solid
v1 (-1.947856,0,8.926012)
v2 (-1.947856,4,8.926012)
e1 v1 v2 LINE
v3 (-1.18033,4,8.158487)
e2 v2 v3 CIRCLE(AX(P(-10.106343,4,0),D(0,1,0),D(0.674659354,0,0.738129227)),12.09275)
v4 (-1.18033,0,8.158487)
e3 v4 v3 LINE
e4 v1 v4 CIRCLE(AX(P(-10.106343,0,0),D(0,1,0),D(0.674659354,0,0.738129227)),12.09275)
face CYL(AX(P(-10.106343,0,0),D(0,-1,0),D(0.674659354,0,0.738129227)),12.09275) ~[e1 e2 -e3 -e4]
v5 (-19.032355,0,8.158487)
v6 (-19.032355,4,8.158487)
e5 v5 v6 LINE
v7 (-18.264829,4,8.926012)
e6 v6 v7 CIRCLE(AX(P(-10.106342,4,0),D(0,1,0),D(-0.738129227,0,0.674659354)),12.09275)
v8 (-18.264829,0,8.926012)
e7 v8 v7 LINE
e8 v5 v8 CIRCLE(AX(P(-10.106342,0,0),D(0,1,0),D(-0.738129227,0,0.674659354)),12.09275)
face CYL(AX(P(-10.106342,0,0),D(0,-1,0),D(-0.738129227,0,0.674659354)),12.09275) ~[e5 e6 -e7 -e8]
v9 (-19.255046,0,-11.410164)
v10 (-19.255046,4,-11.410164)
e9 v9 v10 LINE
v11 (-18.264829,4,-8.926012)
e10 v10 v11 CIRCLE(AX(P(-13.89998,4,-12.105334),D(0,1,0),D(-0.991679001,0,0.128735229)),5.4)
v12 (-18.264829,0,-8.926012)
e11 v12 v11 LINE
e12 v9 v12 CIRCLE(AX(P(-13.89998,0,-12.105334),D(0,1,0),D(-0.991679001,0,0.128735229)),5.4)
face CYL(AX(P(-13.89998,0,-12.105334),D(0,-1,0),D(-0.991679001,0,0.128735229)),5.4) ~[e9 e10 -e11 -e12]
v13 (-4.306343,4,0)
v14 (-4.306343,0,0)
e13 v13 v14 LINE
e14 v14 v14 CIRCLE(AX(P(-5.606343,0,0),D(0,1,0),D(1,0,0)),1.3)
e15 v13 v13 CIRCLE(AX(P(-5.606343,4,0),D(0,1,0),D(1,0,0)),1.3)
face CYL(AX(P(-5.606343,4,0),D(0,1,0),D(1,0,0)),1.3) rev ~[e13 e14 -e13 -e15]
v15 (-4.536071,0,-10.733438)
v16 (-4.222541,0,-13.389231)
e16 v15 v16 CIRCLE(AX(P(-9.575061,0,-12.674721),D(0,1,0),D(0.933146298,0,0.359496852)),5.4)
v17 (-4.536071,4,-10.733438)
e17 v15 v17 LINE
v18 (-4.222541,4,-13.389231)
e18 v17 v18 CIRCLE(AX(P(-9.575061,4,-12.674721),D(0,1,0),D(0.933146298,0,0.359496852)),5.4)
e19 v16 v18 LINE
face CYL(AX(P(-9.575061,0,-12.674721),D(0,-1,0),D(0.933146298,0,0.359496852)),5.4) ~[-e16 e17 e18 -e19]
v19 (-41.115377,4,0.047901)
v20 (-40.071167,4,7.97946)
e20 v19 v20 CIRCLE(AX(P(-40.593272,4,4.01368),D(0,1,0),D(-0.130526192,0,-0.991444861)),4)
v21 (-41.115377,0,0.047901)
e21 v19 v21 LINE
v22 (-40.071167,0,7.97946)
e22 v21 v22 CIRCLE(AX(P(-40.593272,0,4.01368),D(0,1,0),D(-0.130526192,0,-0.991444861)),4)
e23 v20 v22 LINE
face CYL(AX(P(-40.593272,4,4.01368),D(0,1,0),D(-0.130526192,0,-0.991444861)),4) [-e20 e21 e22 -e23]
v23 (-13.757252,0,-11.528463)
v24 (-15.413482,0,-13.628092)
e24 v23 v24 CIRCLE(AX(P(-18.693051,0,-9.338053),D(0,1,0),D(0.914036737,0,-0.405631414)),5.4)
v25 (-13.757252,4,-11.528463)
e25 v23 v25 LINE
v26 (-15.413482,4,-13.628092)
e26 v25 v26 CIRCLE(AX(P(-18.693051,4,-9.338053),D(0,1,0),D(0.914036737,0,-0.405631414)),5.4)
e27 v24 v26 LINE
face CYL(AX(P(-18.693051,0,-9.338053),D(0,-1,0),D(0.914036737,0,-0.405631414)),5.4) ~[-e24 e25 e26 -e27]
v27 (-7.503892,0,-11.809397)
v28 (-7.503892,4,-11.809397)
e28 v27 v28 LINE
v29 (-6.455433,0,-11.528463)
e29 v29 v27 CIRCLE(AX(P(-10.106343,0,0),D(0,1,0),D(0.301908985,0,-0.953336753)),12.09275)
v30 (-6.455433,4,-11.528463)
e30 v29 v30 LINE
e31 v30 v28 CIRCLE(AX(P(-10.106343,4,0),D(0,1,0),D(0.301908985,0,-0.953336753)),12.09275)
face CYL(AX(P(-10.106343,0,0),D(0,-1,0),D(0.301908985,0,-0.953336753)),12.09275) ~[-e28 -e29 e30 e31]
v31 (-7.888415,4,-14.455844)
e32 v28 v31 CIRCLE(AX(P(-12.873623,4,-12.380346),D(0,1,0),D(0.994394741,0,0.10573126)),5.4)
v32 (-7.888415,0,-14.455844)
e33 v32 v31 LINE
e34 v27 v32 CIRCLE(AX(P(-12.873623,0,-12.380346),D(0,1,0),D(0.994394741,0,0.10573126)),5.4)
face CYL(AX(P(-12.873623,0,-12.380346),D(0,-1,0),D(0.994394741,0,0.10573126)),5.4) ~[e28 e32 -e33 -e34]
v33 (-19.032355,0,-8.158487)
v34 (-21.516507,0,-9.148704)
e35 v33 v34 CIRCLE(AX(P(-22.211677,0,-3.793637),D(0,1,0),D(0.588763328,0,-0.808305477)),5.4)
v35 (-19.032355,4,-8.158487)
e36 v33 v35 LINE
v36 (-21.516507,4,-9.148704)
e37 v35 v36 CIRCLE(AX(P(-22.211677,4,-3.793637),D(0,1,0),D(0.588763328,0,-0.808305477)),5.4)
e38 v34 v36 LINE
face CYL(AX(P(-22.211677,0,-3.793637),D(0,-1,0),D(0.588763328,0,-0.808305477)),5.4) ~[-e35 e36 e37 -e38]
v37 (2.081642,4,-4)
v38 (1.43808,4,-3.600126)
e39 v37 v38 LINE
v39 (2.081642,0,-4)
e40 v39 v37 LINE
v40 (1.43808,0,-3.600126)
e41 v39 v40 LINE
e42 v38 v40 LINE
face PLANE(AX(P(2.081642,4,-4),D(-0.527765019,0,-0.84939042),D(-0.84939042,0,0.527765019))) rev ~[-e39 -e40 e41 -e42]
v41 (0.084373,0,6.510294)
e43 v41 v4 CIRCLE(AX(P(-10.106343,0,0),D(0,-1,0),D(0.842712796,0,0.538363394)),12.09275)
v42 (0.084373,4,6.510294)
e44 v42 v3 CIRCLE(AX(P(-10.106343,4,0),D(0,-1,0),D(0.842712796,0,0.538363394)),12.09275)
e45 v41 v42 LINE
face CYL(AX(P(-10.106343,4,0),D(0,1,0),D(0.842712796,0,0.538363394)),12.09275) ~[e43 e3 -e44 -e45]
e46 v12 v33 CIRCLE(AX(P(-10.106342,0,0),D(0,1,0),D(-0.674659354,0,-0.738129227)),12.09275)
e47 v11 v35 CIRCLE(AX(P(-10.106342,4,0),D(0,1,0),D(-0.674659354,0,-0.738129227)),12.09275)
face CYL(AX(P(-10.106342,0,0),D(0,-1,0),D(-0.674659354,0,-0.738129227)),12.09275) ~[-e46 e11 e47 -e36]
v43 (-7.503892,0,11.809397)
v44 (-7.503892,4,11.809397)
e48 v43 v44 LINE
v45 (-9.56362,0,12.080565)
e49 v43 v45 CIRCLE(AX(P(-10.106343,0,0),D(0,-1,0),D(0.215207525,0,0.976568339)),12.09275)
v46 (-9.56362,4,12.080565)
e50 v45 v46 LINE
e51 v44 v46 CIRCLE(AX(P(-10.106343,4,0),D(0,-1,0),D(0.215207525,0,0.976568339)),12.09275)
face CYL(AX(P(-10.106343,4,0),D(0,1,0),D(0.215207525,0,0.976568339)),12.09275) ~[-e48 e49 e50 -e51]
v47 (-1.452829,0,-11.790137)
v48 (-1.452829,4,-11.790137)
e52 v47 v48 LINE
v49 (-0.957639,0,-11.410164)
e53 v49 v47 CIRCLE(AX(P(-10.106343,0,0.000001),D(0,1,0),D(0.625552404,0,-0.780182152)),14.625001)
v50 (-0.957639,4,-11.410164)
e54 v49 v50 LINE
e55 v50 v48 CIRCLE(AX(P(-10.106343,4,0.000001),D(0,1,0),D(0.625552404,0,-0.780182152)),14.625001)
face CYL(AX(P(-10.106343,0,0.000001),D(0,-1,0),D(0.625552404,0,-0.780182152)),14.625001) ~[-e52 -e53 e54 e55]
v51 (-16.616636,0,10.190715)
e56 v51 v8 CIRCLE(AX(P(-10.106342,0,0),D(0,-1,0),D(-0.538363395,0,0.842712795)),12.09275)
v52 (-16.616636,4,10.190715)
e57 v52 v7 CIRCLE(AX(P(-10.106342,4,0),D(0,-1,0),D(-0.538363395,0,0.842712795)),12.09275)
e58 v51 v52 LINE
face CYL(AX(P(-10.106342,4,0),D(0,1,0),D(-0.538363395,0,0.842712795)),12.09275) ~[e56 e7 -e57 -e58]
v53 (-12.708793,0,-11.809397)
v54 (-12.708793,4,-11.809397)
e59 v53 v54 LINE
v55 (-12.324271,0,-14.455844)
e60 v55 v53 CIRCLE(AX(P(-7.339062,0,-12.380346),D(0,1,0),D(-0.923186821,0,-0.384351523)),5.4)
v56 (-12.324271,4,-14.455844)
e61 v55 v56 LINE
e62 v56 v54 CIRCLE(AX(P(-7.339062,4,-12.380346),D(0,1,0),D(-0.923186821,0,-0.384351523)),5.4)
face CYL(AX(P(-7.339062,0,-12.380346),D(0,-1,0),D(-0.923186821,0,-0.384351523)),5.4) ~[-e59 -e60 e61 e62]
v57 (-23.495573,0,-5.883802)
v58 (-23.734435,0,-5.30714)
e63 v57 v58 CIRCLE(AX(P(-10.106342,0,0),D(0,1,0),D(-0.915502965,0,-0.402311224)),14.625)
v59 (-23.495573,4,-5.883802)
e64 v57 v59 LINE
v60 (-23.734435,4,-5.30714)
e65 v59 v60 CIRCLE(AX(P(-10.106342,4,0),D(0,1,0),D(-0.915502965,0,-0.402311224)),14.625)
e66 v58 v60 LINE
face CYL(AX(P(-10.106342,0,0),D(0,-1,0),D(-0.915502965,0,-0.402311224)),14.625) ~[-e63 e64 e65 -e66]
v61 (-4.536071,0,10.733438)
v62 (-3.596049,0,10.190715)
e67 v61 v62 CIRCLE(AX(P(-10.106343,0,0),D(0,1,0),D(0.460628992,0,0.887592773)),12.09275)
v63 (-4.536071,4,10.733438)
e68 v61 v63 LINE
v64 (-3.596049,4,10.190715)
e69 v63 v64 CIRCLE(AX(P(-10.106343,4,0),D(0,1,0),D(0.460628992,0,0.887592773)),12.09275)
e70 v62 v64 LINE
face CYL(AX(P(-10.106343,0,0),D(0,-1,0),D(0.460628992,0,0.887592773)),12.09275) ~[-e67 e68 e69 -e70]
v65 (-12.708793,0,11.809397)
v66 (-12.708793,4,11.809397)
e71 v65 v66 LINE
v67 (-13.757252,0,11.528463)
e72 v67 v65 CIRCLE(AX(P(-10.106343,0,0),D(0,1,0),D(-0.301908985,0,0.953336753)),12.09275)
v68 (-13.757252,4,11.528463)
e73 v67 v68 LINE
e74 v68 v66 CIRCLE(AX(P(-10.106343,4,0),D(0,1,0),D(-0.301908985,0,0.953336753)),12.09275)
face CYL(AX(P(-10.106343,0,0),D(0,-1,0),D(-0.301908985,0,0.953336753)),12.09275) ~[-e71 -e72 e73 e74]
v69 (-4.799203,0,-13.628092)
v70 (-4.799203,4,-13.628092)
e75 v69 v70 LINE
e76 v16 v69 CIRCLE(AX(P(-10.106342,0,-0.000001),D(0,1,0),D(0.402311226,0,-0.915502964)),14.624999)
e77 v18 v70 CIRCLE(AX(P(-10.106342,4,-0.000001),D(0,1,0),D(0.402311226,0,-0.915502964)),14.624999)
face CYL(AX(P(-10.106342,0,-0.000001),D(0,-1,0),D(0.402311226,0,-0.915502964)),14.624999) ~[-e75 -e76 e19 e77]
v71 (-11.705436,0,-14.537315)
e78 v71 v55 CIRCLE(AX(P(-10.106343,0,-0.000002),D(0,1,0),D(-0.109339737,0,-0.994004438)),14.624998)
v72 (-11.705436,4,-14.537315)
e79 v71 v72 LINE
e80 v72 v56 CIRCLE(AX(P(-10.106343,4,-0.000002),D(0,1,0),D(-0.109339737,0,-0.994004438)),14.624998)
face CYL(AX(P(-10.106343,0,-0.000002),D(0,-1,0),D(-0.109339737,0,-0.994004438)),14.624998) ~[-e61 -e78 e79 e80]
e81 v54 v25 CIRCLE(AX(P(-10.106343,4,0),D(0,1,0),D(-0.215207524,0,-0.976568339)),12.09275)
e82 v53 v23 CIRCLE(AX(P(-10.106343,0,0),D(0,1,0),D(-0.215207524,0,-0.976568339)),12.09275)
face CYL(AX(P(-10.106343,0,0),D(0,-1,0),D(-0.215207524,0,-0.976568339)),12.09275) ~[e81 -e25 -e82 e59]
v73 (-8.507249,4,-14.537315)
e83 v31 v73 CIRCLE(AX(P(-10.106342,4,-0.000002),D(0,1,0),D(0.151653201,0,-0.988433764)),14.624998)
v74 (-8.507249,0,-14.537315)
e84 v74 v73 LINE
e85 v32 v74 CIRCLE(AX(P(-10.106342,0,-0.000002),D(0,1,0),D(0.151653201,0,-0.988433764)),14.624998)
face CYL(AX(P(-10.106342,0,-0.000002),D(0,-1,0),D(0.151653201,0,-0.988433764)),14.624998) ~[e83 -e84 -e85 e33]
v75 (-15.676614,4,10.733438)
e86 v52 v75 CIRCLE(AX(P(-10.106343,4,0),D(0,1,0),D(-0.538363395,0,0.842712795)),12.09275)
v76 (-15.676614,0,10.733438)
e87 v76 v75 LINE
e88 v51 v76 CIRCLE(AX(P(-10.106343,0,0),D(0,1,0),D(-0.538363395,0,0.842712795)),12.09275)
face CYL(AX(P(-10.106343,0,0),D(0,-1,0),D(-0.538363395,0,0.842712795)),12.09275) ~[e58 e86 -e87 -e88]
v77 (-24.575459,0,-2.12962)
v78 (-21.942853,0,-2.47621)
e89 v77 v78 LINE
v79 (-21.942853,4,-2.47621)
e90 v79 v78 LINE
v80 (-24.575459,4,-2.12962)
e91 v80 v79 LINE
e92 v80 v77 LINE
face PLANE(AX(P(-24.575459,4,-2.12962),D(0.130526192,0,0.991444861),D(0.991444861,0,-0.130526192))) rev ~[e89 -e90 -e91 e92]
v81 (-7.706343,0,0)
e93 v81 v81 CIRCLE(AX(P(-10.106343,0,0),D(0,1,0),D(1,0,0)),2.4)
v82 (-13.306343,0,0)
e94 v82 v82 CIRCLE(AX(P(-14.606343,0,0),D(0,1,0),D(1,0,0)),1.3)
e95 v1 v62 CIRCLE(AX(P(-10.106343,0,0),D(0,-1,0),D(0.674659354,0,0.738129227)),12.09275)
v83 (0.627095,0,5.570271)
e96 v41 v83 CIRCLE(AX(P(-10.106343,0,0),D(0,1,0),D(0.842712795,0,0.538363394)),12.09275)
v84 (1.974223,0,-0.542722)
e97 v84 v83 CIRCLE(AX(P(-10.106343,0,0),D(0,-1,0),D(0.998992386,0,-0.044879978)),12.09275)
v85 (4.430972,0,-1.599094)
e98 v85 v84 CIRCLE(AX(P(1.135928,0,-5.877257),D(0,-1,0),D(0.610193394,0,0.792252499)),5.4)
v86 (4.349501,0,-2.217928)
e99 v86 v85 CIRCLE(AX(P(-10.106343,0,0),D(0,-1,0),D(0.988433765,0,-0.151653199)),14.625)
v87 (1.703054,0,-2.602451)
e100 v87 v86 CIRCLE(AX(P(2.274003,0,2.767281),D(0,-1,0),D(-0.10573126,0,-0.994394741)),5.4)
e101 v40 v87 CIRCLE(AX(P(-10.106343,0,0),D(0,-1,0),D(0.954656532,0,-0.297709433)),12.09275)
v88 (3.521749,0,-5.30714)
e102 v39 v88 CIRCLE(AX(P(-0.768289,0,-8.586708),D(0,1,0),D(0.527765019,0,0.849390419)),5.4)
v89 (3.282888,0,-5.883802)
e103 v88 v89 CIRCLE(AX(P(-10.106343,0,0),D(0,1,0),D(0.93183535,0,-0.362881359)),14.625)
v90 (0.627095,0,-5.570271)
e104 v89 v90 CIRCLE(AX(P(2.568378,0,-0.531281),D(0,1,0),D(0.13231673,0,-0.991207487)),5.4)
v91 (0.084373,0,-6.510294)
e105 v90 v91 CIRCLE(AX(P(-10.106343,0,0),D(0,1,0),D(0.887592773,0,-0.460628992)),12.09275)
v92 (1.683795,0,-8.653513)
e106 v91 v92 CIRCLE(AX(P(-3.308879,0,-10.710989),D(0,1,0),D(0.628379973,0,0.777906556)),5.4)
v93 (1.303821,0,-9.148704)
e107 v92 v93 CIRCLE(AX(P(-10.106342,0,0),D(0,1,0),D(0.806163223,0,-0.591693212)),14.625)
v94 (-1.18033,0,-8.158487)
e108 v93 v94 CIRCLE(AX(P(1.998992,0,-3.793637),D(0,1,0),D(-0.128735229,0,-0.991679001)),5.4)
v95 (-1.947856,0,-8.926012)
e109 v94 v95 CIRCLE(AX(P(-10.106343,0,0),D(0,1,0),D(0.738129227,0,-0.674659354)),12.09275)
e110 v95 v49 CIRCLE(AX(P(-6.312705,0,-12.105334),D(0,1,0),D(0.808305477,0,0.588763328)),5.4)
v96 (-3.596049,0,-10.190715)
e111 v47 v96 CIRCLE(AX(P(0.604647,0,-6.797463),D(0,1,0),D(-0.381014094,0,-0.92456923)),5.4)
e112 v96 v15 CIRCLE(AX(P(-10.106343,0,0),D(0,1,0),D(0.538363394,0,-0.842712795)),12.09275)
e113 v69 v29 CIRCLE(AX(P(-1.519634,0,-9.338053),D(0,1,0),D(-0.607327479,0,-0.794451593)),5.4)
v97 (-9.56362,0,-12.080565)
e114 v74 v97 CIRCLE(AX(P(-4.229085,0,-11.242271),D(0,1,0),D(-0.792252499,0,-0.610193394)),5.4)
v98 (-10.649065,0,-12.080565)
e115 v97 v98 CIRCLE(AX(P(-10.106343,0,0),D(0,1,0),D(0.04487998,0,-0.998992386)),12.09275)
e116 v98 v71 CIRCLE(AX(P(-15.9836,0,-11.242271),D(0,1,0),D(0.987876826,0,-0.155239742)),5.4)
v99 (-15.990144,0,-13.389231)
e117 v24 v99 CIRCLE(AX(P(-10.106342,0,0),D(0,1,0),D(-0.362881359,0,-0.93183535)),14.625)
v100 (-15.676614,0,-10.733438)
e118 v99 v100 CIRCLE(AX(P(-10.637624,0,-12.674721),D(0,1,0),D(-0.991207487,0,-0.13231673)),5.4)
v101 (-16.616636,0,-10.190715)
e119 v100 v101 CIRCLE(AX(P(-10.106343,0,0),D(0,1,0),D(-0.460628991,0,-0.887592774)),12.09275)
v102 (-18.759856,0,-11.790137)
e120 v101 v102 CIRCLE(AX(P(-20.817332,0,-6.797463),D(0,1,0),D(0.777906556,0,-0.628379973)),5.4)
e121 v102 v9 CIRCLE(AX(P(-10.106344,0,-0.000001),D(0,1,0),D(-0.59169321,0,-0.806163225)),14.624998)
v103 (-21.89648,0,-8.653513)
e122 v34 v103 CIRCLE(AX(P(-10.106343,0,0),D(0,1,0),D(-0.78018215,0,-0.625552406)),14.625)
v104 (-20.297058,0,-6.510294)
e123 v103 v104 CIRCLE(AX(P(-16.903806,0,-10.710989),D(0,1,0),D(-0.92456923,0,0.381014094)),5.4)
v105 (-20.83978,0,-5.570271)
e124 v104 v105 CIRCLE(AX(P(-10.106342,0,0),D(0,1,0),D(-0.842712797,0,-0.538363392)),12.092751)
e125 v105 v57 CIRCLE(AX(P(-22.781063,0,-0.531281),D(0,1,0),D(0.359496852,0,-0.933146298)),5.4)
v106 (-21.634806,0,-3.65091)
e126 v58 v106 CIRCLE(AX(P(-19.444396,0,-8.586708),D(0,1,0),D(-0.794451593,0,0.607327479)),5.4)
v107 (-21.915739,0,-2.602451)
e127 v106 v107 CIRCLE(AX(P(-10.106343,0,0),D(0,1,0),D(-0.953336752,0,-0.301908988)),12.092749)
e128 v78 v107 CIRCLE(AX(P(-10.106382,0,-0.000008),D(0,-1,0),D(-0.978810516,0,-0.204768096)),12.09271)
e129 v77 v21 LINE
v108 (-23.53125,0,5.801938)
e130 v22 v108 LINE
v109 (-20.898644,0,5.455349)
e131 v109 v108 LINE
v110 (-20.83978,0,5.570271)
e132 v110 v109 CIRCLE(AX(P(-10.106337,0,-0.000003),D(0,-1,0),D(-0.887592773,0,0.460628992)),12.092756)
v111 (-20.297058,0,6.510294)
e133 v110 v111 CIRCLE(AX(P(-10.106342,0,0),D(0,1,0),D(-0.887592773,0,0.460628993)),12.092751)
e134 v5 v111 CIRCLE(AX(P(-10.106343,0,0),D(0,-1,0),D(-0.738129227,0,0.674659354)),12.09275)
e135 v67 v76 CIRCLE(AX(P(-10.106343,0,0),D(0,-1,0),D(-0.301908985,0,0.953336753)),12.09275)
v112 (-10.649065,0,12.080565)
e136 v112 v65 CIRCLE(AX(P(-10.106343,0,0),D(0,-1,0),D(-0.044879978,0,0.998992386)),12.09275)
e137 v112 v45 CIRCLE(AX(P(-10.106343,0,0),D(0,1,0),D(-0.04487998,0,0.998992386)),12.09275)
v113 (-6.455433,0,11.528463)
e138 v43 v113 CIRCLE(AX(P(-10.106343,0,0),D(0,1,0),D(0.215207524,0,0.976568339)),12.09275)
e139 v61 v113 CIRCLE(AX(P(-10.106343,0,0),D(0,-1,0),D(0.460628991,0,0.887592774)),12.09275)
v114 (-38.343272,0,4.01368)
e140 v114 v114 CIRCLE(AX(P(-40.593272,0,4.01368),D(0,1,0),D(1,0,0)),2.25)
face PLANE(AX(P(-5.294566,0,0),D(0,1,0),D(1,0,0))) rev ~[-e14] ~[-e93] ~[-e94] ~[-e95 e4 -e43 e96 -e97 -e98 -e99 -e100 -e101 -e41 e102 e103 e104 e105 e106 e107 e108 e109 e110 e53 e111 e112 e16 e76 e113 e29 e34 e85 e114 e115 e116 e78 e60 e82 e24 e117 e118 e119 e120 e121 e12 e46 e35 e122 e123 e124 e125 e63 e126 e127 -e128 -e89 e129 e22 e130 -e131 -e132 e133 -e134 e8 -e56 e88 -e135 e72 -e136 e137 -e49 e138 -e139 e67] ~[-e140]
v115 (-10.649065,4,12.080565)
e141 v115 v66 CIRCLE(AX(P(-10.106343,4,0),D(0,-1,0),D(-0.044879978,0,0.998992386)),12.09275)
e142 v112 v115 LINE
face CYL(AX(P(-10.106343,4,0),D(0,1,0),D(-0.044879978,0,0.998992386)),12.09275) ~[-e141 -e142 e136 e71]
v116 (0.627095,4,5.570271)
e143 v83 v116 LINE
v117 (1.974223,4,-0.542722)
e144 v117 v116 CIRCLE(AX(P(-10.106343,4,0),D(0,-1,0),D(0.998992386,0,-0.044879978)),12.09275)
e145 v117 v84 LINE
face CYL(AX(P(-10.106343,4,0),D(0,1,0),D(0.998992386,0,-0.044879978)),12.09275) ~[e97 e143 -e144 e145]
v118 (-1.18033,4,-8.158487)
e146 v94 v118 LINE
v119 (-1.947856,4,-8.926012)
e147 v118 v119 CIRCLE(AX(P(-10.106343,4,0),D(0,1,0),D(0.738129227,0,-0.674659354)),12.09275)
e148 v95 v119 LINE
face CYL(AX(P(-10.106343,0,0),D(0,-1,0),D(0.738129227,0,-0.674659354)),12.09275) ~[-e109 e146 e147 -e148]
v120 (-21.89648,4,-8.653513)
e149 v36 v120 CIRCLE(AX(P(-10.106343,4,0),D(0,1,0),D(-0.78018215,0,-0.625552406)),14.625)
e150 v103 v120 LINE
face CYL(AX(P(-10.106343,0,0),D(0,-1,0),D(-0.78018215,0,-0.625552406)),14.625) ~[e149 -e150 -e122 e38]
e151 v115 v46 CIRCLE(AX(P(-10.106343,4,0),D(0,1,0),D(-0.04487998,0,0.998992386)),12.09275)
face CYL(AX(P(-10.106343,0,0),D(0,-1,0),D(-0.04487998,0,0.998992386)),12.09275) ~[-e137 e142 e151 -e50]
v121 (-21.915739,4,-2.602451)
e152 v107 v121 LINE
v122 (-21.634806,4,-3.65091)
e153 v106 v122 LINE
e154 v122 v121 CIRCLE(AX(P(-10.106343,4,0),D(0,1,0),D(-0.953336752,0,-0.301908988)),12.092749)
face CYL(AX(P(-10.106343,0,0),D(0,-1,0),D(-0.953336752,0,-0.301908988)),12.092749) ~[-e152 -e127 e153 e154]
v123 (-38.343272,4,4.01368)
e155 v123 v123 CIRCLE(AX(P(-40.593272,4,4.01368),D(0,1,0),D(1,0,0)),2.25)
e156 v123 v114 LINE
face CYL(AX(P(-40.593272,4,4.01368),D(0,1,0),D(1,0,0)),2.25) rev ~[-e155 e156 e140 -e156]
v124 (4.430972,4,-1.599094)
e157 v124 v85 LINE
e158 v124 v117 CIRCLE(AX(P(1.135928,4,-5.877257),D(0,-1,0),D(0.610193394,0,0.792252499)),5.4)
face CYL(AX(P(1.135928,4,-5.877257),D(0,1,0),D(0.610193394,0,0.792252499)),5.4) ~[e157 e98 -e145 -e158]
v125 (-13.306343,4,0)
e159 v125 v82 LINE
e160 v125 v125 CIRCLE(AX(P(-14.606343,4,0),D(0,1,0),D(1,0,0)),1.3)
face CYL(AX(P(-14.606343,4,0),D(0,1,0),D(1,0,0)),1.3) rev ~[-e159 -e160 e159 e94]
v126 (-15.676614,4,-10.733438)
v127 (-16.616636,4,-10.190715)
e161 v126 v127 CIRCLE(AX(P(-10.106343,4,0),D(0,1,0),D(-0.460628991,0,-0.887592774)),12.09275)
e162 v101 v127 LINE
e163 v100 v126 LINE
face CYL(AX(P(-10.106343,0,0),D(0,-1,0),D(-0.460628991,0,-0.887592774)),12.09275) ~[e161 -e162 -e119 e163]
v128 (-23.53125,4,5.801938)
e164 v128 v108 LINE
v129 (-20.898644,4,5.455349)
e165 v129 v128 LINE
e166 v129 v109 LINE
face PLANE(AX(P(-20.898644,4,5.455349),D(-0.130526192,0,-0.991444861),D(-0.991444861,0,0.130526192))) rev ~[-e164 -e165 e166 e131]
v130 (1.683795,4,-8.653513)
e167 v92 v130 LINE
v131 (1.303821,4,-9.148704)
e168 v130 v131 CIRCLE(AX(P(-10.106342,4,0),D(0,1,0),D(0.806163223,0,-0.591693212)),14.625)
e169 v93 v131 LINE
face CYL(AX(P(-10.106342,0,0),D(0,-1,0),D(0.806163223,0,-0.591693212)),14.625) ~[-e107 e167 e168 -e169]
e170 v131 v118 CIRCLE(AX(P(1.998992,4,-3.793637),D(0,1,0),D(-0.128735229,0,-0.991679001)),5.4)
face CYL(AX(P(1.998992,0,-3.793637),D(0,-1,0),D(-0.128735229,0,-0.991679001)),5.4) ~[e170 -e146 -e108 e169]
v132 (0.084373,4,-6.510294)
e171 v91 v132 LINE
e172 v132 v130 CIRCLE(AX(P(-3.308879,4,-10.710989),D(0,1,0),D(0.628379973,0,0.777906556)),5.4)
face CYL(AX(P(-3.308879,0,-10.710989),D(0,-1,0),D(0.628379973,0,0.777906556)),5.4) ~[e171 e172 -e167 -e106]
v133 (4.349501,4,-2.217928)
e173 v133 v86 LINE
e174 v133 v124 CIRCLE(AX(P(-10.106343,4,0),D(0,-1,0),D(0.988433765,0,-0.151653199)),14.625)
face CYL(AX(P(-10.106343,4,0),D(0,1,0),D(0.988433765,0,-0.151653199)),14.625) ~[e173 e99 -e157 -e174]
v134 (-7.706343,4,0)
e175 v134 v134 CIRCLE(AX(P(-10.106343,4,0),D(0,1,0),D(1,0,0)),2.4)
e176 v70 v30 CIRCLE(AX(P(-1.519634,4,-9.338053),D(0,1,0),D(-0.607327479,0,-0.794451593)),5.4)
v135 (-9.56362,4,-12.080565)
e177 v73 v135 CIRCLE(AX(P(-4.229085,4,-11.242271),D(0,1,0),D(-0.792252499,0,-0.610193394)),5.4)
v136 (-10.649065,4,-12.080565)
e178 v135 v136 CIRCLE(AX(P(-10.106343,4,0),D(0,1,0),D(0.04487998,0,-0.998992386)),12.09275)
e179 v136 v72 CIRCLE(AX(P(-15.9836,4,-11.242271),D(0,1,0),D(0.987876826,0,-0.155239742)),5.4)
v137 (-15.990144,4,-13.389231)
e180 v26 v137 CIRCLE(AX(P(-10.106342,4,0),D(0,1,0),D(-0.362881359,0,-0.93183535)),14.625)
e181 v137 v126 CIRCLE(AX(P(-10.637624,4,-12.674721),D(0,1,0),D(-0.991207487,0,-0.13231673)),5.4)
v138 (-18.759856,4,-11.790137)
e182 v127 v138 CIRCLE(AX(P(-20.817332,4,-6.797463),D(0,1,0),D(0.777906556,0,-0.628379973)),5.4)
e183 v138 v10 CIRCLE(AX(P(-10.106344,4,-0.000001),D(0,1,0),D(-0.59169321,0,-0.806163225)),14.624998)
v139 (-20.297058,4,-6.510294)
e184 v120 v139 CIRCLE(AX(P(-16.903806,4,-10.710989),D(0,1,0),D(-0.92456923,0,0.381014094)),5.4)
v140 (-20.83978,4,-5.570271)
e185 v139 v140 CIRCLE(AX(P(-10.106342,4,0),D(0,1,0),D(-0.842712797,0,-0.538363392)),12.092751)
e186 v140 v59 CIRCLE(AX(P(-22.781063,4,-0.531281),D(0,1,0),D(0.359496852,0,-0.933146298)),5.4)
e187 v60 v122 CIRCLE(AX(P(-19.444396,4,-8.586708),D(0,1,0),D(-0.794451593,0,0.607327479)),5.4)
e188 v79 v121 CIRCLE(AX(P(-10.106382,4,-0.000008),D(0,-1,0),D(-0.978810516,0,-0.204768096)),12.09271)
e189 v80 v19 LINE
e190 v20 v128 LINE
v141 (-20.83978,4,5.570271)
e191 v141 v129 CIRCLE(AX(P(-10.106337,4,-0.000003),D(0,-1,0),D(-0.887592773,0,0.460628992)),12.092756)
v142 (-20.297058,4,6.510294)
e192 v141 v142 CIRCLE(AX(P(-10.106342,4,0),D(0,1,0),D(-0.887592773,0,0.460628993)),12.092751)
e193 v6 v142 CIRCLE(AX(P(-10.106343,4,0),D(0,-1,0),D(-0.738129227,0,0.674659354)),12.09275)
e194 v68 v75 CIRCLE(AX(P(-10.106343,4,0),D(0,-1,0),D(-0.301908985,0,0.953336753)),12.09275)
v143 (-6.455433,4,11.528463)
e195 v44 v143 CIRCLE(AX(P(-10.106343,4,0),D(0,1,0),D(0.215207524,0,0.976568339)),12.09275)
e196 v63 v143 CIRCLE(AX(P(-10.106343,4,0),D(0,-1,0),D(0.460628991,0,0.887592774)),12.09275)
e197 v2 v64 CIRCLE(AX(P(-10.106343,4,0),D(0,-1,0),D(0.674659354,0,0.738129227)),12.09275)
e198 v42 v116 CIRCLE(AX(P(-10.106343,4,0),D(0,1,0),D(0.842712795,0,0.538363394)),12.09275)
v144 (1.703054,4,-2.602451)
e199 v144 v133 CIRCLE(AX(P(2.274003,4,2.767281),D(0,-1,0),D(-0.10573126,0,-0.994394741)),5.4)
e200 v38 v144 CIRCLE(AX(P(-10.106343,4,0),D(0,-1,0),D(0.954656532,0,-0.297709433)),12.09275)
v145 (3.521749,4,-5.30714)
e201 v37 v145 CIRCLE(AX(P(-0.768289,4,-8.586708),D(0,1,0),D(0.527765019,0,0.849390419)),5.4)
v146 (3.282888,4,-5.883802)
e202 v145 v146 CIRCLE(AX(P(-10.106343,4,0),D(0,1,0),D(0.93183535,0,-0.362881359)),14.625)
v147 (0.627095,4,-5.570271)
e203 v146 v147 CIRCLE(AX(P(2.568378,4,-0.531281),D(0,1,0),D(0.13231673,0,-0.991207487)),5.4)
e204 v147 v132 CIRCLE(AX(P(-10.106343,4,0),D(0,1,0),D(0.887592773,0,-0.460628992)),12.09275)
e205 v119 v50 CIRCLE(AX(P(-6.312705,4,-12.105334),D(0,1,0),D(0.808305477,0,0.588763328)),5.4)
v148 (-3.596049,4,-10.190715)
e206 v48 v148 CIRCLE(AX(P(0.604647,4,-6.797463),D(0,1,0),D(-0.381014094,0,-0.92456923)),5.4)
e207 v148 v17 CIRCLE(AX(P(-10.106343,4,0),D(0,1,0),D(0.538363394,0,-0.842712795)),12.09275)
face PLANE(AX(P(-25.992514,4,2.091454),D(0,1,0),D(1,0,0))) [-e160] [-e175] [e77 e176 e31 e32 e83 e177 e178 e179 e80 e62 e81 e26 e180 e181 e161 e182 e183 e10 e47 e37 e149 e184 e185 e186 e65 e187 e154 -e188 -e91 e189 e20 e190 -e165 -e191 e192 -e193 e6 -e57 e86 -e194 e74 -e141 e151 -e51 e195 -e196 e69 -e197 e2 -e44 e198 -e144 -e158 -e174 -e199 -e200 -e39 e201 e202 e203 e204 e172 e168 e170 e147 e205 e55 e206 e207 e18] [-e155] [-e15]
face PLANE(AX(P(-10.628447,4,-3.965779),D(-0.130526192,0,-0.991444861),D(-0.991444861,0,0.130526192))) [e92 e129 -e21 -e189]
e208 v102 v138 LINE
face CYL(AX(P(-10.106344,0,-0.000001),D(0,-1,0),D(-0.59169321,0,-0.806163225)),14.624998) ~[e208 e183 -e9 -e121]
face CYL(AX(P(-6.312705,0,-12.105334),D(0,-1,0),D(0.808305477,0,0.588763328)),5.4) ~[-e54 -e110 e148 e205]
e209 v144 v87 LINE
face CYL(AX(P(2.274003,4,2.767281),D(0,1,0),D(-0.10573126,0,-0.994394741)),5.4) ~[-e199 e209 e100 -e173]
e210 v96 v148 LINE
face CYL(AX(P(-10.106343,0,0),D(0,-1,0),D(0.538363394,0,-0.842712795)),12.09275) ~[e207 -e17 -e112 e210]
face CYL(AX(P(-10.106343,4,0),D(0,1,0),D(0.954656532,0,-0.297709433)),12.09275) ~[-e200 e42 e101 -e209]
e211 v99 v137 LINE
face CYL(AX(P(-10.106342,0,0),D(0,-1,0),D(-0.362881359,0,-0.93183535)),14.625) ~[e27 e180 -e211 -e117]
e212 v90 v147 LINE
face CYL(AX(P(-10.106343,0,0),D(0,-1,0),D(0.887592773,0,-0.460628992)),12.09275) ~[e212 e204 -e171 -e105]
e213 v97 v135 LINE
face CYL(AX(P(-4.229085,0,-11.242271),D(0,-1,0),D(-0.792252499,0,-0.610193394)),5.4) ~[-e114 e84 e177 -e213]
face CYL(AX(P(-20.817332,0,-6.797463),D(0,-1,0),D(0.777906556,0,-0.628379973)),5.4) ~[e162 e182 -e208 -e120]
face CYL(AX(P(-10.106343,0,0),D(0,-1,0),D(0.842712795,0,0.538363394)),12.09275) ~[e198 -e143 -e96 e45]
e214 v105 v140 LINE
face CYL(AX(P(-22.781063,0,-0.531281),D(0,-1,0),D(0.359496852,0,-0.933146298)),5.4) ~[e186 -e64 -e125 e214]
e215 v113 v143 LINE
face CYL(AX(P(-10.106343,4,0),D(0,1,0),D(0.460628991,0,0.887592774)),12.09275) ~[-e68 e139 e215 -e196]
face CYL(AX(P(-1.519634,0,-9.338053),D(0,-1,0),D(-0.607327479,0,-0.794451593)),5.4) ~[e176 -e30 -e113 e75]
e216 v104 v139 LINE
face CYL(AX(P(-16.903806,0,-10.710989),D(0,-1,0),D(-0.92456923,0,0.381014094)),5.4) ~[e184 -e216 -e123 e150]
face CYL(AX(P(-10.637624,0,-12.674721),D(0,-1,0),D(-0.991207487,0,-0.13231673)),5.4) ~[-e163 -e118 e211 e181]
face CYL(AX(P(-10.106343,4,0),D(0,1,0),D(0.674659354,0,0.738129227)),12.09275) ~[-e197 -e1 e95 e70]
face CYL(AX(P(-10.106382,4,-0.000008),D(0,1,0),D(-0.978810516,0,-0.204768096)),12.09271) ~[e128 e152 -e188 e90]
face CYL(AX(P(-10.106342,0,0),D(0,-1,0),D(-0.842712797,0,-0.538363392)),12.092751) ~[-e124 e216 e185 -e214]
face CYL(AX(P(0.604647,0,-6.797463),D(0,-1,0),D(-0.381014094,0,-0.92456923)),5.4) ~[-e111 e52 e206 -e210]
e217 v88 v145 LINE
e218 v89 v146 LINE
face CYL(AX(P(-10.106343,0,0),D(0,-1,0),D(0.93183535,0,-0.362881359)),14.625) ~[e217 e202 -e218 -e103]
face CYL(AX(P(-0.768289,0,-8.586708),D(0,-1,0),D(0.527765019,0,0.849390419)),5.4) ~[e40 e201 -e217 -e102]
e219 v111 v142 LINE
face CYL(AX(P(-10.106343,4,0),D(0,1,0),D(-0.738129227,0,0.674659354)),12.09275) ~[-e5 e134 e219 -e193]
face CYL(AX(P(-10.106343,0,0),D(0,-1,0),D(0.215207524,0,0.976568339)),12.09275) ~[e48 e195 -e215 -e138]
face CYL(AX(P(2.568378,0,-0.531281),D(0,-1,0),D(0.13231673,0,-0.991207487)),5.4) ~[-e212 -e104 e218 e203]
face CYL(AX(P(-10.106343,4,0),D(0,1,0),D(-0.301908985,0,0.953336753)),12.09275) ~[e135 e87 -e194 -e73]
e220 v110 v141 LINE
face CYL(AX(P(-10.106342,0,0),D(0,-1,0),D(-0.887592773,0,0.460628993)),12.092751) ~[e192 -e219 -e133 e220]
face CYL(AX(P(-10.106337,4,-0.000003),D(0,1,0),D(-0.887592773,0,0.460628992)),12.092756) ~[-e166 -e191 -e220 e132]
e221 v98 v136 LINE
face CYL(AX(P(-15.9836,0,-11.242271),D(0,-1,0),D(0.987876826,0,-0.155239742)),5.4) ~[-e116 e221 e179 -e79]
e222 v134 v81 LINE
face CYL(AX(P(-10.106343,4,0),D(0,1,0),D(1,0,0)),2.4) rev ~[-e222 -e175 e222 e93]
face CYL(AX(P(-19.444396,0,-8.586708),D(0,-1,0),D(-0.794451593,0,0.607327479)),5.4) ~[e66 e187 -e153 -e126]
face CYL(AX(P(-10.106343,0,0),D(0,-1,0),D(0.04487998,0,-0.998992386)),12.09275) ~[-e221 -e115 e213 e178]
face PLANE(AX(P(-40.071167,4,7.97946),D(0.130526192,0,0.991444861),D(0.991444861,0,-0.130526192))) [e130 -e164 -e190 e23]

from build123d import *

# Parameters (mm, degrees)
SKETCH1_R           = 1.5
SKETCH1_R_2         = 2.25
BOSS_EXTRUDE1_DEPTH = 4
SKETCH3_R           = 2.25
BOSS_EXTRUDE2_DEPTH = 4
CUT_EXTRUDE1_DEPTH  = 4
CUT_EXTRUDE2_REACH  = 6
SKETCH5_R           = 1.3
SKETCH5_R_2         = 2.4


with BuildPart() as part:
    # Sketch1 → Boss-Extrude1 (new body)
    with BuildSketch(Plane(origin=(0, 0, 0), x_dir=(1, 0, 0), z_dir=(0, 1, 0))):
        with BuildLine():
            Line((20.643657446, 4), (2.081641936, 4))
            ThreePointArc((2.081641936, 4), (2.861028333, 4.588201733), (3.521749436, 5.30713988))
            ThreePointArc((3.521749436, 5.30713988), (3.405395609, 5.596745198), (3.282888305, 5.883801663))
            ThreePointArc((3.282888305, 5.883801663), (1.93527598, 5.894040025), (0.627094961, 5.57027124))
            ThreePointArc((0.627094961, 5.57027124), (0.366286148, 6.046375), (0.084372603, 6.510293938))
            ThreePointArc((0.084372603, 6.510293938), (1.018855105, 7.48132754), (1.683794586, 8.65351323))
            ThreePointArc((1.683794586, 8.65351323), (1.496450048, 8.903135899), (1.303821399, 9.148703928))
            ThreePointArc((1.303821399, 9.148703928), (-0.000522033, 8.809805691), (-1.180330337, 8.158486898))
            ThreePointArc((-1.180330337, 8.158486898), (-1.555477026, 8.550865528), (-1.947855656, 8.926012217))
            ThreePointArc((-1.947855656, 8.926012217), (-1.296536862, 10.105820521), (-0.957638625, 11.410163953))
            ThreePointArc((-0.957638625, 11.410163953), (-1.203206655, 11.602792602), (-1.452829324, 11.79013714))
            ThreePointArc((-1.452829324, 11.79013714), (-2.625015014, 11.125197659), (-3.596048616, 10.190715157))
            ThreePointArc((-3.596048616, 10.190715157), (-4.059967554, 10.472628702), (-4.536071314, 10.733437515))
            ThreePointArc((-4.536071314, 10.733437515), (-4.212302529, 12.041618533), (-4.222540891, 13.389230859))
            ThreePointArc((-4.222540891, 13.389230859), (-4.509597355, 13.511738163), (-4.799202674, 13.62809199))
            ThreePointArc((-4.799202674, 13.62809199), (-5.759348103, 12.682425791), (-6.455432668, 11.528463019))
            ThreePointArc((-6.455432668, 11.528463019), (-6.976508546, 11.680699536), (-7.503891752, 11.809396783))
            ThreePointArc((-7.503891752, 11.809396783), (-7.529737283, 13.156800143), (-7.888414517, 14.455843809))
            ThreePointArc((-7.888414517, 14.455843809), (-8.197396993, 14.499881098), (-8.507248835, 14.537314892))
            ThreePointArc((-8.507248835, 14.537314892), (-9.18992168, 13.375367565), (-9.563620196, 12.080565177))
            ThreePointArc((-9.563620196, 12.080565177), (-10.106342554, 12.09275), (-10.649064912, 12.080565177))
            ThreePointArc((-10.649064912, 12.080565177), (-11.022763428, 13.375367565), (-11.705436272, 14.537314892))
            ThreePointArc((-11.705436272, 14.537314892), (-12.015288115, 14.499881098), (-12.324270591, 14.455843809))
            ThreePointArc((-12.324270591, 14.455843809), (-12.682947825, 13.156800143), (-12.708793355, 11.809396783))
            ThreePointArc((-12.708793355, 11.809396783), (-13.236176561, 11.680699536), (-13.757252439, 11.528463019))
            ThreePointArc((-13.757252439, 11.528463019), (-14.453337005, 12.682425791), (-15.413482434, 13.62809199))
            ThreePointArc((-15.413482434, 13.62809199), (-15.703087752, 13.511738163), (-15.990144217, 13.389230859))
            ThreePointArc((-15.990144217, 13.389230859), (-16.000382579, 12.041618533), (-15.676613793, 10.733437515))
            ThreePointArc((-15.676613793, 10.733437515), (-16.152717554, 10.472628702), (-16.616636492, 10.190715157))
            ThreePointArc((-16.616636492, 10.190715157), (-17.587670094, 11.125197659), (-18.759855783, 11.79013714))
            ThreePointArc((-18.759855783, 11.79013714), (-19.009478453, 11.602792602), (-19.255046482, 11.410163953))
            ThreePointArc((-19.255046482, 11.410163953), (-18.916148245, 10.105820521), (-18.264829452, 8.926012217))
            ThreePointArc((-18.264829452, 8.926012217), (-18.657208082, 8.550865528), (-19.032354771, 8.158486898))
            ThreePointArc((-19.032354771, 8.158486898), (-20.212163074, 8.809805691), (-21.516506507, 9.148703928))
            ThreePointArc((-21.516506507, 9.148703928), (-21.709135156, 8.903135899), (-21.896479694, 8.65351323))
            ThreePointArc((-21.896479694, 8.65351323), (-21.231540213, 7.48132754), (-20.297057711, 6.510293938))
            ThreePointArc((-20.297057711, 6.510293938), (-20.578971255, 6.046375), (-20.839780068, 5.57027124))
            ThreePointArc((-20.839780068, 5.57027124), (-22.147961087, 5.894040025), (-23.495573413, 5.883801663))
            ThreePointArc((-23.495573413, 5.883801663), (-23.618080717, 5.596745198), (-23.734434544, 5.30713988))
            ThreePointArc((-23.734434544, 5.30713988), (-22.788768345, 4.346994451), (-21.634805572, 3.650909885))
            ThreePointArc((-21.634805572, 3.650909885), (-21.78704209, 3.129834008), (-21.915739337, 2.602450802))
            ThreePointArc((-21.915739337, 2.602450802), (-23.263142697, 2.576605271), (-24.562186363, 2.217928037))
            ThreePointArc((-24.562186363, 2.217928037), (-24.606223651, 1.908945561), (-24.643657446, 1.599093719))
            ThreePointArc((-24.643657446, 1.599093719), (-23.481710119, 0.916420874), (-22.186907731, 0.542722358))
            ThreePointArc((-22.186907731, 0.542722358), (-22.199092554, 0), (-22.186907731, -0.542722358))
            ThreePointArc((-22.186907731, -0.542722358), (-23.481710119, -0.916420874), (-24.643657446, -1.599093719))
            ThreePointArc((-24.643657446, -1.599093719), (-24.606223651, -1.908945561), (-24.562186363, -2.217928037))
            ThreePointArc((-24.562186363, -2.217928037), (-23.263142697, -2.576605271), (-21.915739337, -2.602450802))
            ThreePointArc((-21.915739337, -2.602450802), (-21.78704209, -3.129834008), (-21.634805572, -3.650909885))
            ThreePointArc((-21.634805572, -3.650909885), (-22.788768345, -4.346994451), (-23.734434544, -5.30713988))
            ThreePointArc((-23.734434544, -5.30713988), (-23.618080717, -5.596745198), (-23.495573413, -5.883801663))
            ThreePointArc((-23.495573413, -5.883801663), (-22.147961087, -5.894040025), (-20.839780068, -5.57027124))
            ThreePointArc((-20.839780068, -5.57027124), (-20.578971255, -6.046375), (-20.297057711, -6.510293938))
            ThreePointArc((-20.297057711, -6.510293938), (-21.231540213, -7.48132754), (-21.896479694, -8.65351323))
            ThreePointArc((-21.896479694, -8.65351323), (-21.709135156, -8.903135899), (-21.516506507, -9.148703928))
            ThreePointArc((-21.516506507, -9.148703928), (-20.212163074, -8.809805691), (-19.032354771, -8.158486898))
            ThreePointArc((-19.032354771, -8.158486898), (-18.657208082, -8.550865528), (-18.264829452, -8.926012217))
            ThreePointArc((-18.264829452, -8.926012217), (-18.916148245, -10.105820521), (-19.255046482, -11.410163953))
            ThreePointArc((-19.255046482, -11.410163953), (-19.009478453, -11.602792602), (-18.759855783, -11.79013714))
            ThreePointArc((-18.759855783, -11.79013714), (-17.587670094, -11.125197659), (-16.616636492, -10.190715157))
            ThreePointArc((-16.616636492, -10.190715157), (-16.152717554, -10.472628702), (-15.676613793, -10.733437515))
            ThreePointArc((-15.676613793, -10.733437515), (-16.000382579, -12.041618533), (-15.990144217, -13.389230859))
            ThreePointArc((-15.990144217, -13.389230859), (-15.703087752, -13.511738163), (-15.413482434, -13.62809199))
            ThreePointArc((-15.413482434, -13.62809199), (-14.453337005, -12.682425791), (-13.757252439, -11.528463019))
            ThreePointArc((-13.757252439, -11.528463019), (-13.236176561, -11.680699536), (-12.708793355, -11.809396783))
            ThreePointArc((-12.708793355, -11.809396783), (-12.682947825, -13.156800143), (-12.324270591, -14.455843809))
            ThreePointArc((-12.324270591, -14.455843809), (-12.015288115, -14.499881098), (-11.705436272, -14.537314892))
            ThreePointArc((-11.705436272, -14.537314892), (-11.022763428, -13.375367565), (-10.649064912, -12.080565177))
            ThreePointArc((-10.649064912, -12.080565177), (-10.106342554, -12.09275), (-9.563620196, -12.080565177))
            ThreePointArc((-9.563620196, -12.080565177), (-9.18992168, -13.375367565), (-8.507248835, -14.537314892))
            ThreePointArc((-8.507248835, -14.537314892), (-8.197396993, -14.499881098), (-7.888414517, -14.455843809))
            ThreePointArc((-7.888414517, -14.455843809), (-7.529737283, -13.156800143), (-7.503891752, -11.809396783))
            ThreePointArc((-7.503891752, -11.809396783), (-6.976508546, -11.680699536), (-6.455432668, -11.528463019))
            ThreePointArc((-6.455432668, -11.528463019), (-5.759348103, -12.682425791), (-4.799202674, -13.62809199))
            ThreePointArc((-4.799202674, -13.62809199), (-4.509597355, -13.511738163), (-4.222540891, -13.389230859))
            ThreePointArc((-4.222540891, -13.389230859), (-4.212302529, -12.041618533), (-4.536071314, -10.733437515))
            ThreePointArc((-4.536071314, -10.733437515), (-4.059967554, -10.472628702), (-3.596048616, -10.190715157))
            ThreePointArc((-3.596048616, -10.190715157), (-2.625015014, -11.125197659), (-1.452829324, -11.79013714))
            ThreePointArc((-1.452829324, -11.79013714), (-1.203206655, -11.602792602), (-0.957638625, -11.410163953))
            ThreePointArc((-0.957638625, -11.410163953), (-1.296536862, -10.105820521), (-1.947855656, -8.926012217))
            ThreePointArc((-1.947855656, -8.926012217), (-1.555477026, -8.550865528), (-1.180330337, -8.158486898))
            ThreePointArc((-1.180330337, -8.158486898), (-0.000522033, -8.809805691), (1.303821399, -9.148703928))
            ThreePointArc((1.303821399, -9.148703928), (1.496450048, -8.903135899), (1.683794586, -8.65351323))
            ThreePointArc((1.683794586, -8.65351323), (1.018855105, -7.48132754), (0.084372603, -6.510293938))
            ThreePointArc((0.084372603, -6.510293938), (0.366286148, -6.046375), (0.627094961, -5.57027124))
            ThreePointArc((0.627094961, -5.57027124), (1.93527598, -5.894040025), (3.282888305, -5.883801663))
            ThreePointArc((3.282888305, -5.883801663), (3.405395609, -5.596745198), (3.521749436, -5.30713988))
            ThreePointArc((3.521749436, -5.30713988), (2.861028333, -4.588201733), (2.081641936, -4))
            Line((2.081641936, -4), (20.643657446, -4))
            ThreePointArc((20.643657446, -4), (24.643657446, 0), (20.643657446, 4))
        make_face()
        with Locations((-10.106342554, 0)):
            Circle(SKETCH1_R, mode=Mode.SUBTRACT)
        with Locations((20.643657446, 0)):
            Circle(SKETCH1_R_2, mode=Mode.SUBTRACT)
    extrude(amount=BOSS_EXTRUDE1_DEPTH)

    # Sketch3 → Boss-Extrude2 (add)
    with BuildSketch(Plane(origin=(0, 4, 0), x_dir=(1, 0, 0), z_dir=(0, 1, 0))):
        with BuildLine():
            ThreePointArc((-9.584237785, -3.965779445), (-14.072121999, -0.522104769), (-10.628447323, 3.965779445))
            Line((-10.628447323, 3.965779445), (-41.11537681, -0.047900965))
            ThreePointArc((-41.11537681, -0.047900965), (-44.559051487, -4.53578518), (-40.071167272, -7.979459856))
            Line((-40.071167272, -7.979459856), (-9.584237785, -3.965779445))
        make_face()
        with Locations((-40.593272041, -4.013680411)):
            Circle(SKETCH3_R, mode=Mode.SUBTRACT)
    extrude(amount=-BOSS_EXTRUDE2_DEPTH)

    # Sketch4 → Cut-Extrude1 (cut)
    with BuildSketch(Plane(origin=(0, 4, 0), x_dir=(1, 0, 0), z_dir=(0, 1, 0))):
        with BuildLine():
            ThreePointArc((20.643657446, -4), (24.643657446, 0), (20.643657446, 4))
            Line((20.643657446, 4), (2.081641936, 4))
            Line((2.081641936, 4), (1.43808022, 3.600125745))
            ThreePointArc((1.43808022, 3.600125745), (1.581217534, 3.104116905), (1.70305423, 2.602450802))
            ThreePointArc((1.70305423, 2.602450802), (3.050457589, 2.576605271), (4.349501255, 2.217928037))
            ThreePointArc((4.349501255, 2.217928037), (4.393538544, 1.908945561), (4.430972339, 1.599093719))
            ThreePointArc((4.430972339, 1.599093719), (3.269025011, 0.916420874), (1.974222624, 0.542722358))
            ThreePointArc((1.974222624, 0.542722358), (1.70305423, -2.602450802), (0.627094961, -5.57027124))
            ThreePointArc((0.627094961, -5.57027124), (1.93527598, -5.894040025), (3.282888305, -5.883801663))
            ThreePointArc((3.282888305, -5.883801663), (3.405395609, -5.596745198), (3.521749436, -5.30713988))
            ThreePointArc((3.521749436, -5.30713988), (2.861028333, -4.588201733), (2.081641936, -4))
            Line((2.081641936, -4), (20.643657446, -4))
        make_face()
        with BuildLine():
            ThreePointArc((1.683794586, -8.65351323), (1.018855105, -7.48132754), (0.084372603, -6.510293938))
            ThreePointArc((0.084372603, -6.510293938), (-0.512518948, -7.361599771), (-1.180330337, -8.158486898))
            ThreePointArc((-1.180330337, -8.158486898), (-0.000522033, -8.809805691), (1.303821399, -9.148703928))
            ThreePointArc((1.303821399, -9.148703928), (1.496450048, -8.903135899), (1.683794586, -8.65351323))
        make_face()
        with BuildLine():
            ThreePointArc((-0.957638625, -11.410163953), (-1.296536862, -10.105820521), (-1.947855656, -8.926012217))
            ThreePointArc((-1.947855656, -8.926012217), (-2.744742783, -9.593823606), (-3.596048616, -10.190715157))
            ThreePointArc((-3.596048616, -10.190715157), (-2.625015014, -11.125197659), (-1.452829324, -11.79013714))
            ThreePointArc((-1.452829324, -11.79013714), (-1.203206655, -11.602792602), (-0.957638625, -11.410163953))
        make_face()
        with BuildLine():
            ThreePointArc((-4.222540891, -13.389230859), (-4.212302529, -12.041618533), (-4.536071314, -10.733437515))
            ThreePointArc((-4.536071314, -10.733437515), (-5.478647477, -11.172244217), (-6.455432668, -11.528463019))
            ThreePointArc((-6.455432668, -11.528463019), (-5.759348103, -12.682425791), (-4.799202674, -13.62809199))
            ThreePointArc((-4.799202674, -13.62809199), (-4.509597355, -13.511738163), (-4.222540891, -13.389230859))
        make_face()
        with BuildLine():
            ThreePointArc((-7.888414517, -14.455843809), (-7.529737283, -13.156800143), (-7.503891752, -11.809396783))
            ThreePointArc((-7.503891752, -11.809396783), (-8.527921943, -11.989294847), (-9.563620196, -12.080565177))
            ThreePointArc((-9.563620196, -12.080565177), (-9.18992168, -13.375367565), (-8.507248835, -14.537314892))
            ThreePointArc((-8.507248835, -14.537314892), (-8.197396993, -14.499881098), (-7.888414517, -14.455843809))
        make_face()
        with BuildLine():
            ThreePointArc((-11.705436272, -14.537314892), (-11.022763428, -13.375367565), (-10.649064912, -12.080565177))
            ThreePointArc((-10.649064912, -12.080565177), (-11.684763165, -11.989294847), (-12.708793355, -11.809396783))
            ThreePointArc((-12.708793355, -11.809396783), (-12.682947825, -13.156800143), (-12.324270591, -14.455843809))
            ThreePointArc((-12.324270591, -14.455843809), (-12.015288115, -14.499881098), (-11.705436272, -14.537314892))
        make_face()
        with BuildLine():
            ThreePointArc((-15.413482434, -13.62809199), (-14.453337005, -12.682425791), (-13.757252439, -11.528463019))
            ThreePointArc((-13.757252439, -11.528463019), (-14.734037631, -11.172244217), (-15.676613793, -10.733437515))
            ThreePointArc((-15.676613793, -10.733437515), (-16.000382579, -12.041618533), (-15.990144217, -13.389230859))
            ThreePointArc((-15.990144217, -13.389230859), (-15.703087752, -13.511738163), (-15.413482434, -13.62809199))
        make_face()
        with BuildLine():
            ThreePointArc((-18.759855783, -11.79013714), (-17.587670094, -11.125197659), (-16.616636492, -10.190715157))
            ThreePointArc((-16.616636492, -10.190715157), (-17.467942324, -9.593823606), (-18.264829452, -8.926012217))
            ThreePointArc((-18.264829452, -8.926012217), (-18.916148245, -10.105820521), (-19.255046482, -11.410163953))
            ThreePointArc((-19.255046482, -11.410163953), (-19.009478453, -11.602792602), (-18.759855783, -11.79013714))
        make_face()
        with BuildLine():
            ThreePointArc((-21.516506507, -9.148703928), (-20.212163074, -8.809805691), (-19.032354771, -8.158486898))
            ThreePointArc((-19.032354771, -8.158486898), (-19.70016616, -7.361599771), (-20.297057711, -6.510293938))
            ThreePointArc((-20.297057711, -6.510293938), (-21.231540213, -7.48132754), (-21.896479694, -8.65351323))
            ThreePointArc((-21.896479694, -8.65351323), (-21.709135156, -8.903135899), (-21.516506507, -9.148703928))
        make_face()
        with BuildLine():
            ThreePointArc((-21.942853375, 2.47620963), (-21.92946485, 2.539366405), (-21.915739337, 2.602450802))
            ThreePointArc((-21.915739337, 2.602450802), (-23.263142697, 2.576605271), (-24.562186363, 2.217928037))
            ThreePointArc((-24.562186363, 2.217928037), (-24.56889027, 2.173784387), (-24.575459377, 2.129620475))
            Line((-24.575459377, 2.129620475), (-21.942853375, 2.47620963))
        make_face()
        with BuildLine():
            ThreePointArc((-23.495573413, -5.883801663), (-22.147961087, -5.894040025), (-20.839780068, -5.57027124))
            ThreePointArc((-20.839780068, -5.57027124), (-20.869365339, -5.512888815), (-20.898643838, -5.455349261))
            Line((-20.898643838, -5.455349261), (-23.531249839, -5.801938416))
            ThreePointArc((-23.531249839, -5.801938416), (-23.513474108, -5.842897269), (-23.495573413, -5.883801663))
        make_face()
    extrude(amount=-CUT_EXTRUDE1_DEPTH, mode=Mode.SUBTRACT)

    # Sketch5 → Cut-Extrude2 (cut, up to next)
    with BuildSketch(Plane(origin=(0, 4, 0), x_dir=(1, 0, 0), z_dir=(0, 1, 0)), mode=Mode.PRIVATE) as cut_extrude2_sk1:
        with Locations((-14.606342554, 0)):
            Circle(SKETCH5_R)
    cut_extrude2_tool1 = extrude(cut_extrude2_sk1.sketch, amount=-CUT_EXTRUDE2_REACH, mode=Mode.PRIVATE) & part.part
    add(cut_extrude2_tool1.solids().sort_by_distance((-14.606343, 4, 0))[0], mode=Mode.SUBTRACT)
    # Sketch5 → Cut-Extrude2 (cut, up to next)
    with BuildSketch(Plane(origin=(0, 4, 0), x_dir=(1, 0, 0), z_dir=(0, 1, 0)), mode=Mode.PRIVATE) as cut_extrude2_sk2:
        with Locations((-5.606342554, 0)):
            Circle(SKETCH5_R)
    cut_extrude2_tool2 = extrude(cut_extrude2_sk2.sketch, amount=-CUT_EXTRUDE2_REACH, mode=Mode.PRIVATE) & part.part
    add(cut_extrude2_tool2.solids().sort_by_distance((-5.606343, 4, 0))[0], mode=Mode.SUBTRACT)
    # Sketch5 → Cut-Extrude2 (cut, up to next)
    with BuildSketch(Plane(origin=(0, 4, 0), x_dir=(1, 0, 0), z_dir=(0, 1, 0)), mode=Mode.PRIVATE) as cut_extrude2_sk3:
        with Locations((-10.106342554, 0)):
            Circle(SKETCH5_R_2)
    cut_extrude2_tool3 = extrude(cut_extrude2_sk3.sketch, amount=-CUT_EXTRUDE2_REACH, mode=Mode.PRIVATE) & part.part
    add(cut_extrude2_tool3.solids().sort_by_distance((-10.106343, 4, 0))[0], mode=Mode.SUBTRACT)


solid = part.part
